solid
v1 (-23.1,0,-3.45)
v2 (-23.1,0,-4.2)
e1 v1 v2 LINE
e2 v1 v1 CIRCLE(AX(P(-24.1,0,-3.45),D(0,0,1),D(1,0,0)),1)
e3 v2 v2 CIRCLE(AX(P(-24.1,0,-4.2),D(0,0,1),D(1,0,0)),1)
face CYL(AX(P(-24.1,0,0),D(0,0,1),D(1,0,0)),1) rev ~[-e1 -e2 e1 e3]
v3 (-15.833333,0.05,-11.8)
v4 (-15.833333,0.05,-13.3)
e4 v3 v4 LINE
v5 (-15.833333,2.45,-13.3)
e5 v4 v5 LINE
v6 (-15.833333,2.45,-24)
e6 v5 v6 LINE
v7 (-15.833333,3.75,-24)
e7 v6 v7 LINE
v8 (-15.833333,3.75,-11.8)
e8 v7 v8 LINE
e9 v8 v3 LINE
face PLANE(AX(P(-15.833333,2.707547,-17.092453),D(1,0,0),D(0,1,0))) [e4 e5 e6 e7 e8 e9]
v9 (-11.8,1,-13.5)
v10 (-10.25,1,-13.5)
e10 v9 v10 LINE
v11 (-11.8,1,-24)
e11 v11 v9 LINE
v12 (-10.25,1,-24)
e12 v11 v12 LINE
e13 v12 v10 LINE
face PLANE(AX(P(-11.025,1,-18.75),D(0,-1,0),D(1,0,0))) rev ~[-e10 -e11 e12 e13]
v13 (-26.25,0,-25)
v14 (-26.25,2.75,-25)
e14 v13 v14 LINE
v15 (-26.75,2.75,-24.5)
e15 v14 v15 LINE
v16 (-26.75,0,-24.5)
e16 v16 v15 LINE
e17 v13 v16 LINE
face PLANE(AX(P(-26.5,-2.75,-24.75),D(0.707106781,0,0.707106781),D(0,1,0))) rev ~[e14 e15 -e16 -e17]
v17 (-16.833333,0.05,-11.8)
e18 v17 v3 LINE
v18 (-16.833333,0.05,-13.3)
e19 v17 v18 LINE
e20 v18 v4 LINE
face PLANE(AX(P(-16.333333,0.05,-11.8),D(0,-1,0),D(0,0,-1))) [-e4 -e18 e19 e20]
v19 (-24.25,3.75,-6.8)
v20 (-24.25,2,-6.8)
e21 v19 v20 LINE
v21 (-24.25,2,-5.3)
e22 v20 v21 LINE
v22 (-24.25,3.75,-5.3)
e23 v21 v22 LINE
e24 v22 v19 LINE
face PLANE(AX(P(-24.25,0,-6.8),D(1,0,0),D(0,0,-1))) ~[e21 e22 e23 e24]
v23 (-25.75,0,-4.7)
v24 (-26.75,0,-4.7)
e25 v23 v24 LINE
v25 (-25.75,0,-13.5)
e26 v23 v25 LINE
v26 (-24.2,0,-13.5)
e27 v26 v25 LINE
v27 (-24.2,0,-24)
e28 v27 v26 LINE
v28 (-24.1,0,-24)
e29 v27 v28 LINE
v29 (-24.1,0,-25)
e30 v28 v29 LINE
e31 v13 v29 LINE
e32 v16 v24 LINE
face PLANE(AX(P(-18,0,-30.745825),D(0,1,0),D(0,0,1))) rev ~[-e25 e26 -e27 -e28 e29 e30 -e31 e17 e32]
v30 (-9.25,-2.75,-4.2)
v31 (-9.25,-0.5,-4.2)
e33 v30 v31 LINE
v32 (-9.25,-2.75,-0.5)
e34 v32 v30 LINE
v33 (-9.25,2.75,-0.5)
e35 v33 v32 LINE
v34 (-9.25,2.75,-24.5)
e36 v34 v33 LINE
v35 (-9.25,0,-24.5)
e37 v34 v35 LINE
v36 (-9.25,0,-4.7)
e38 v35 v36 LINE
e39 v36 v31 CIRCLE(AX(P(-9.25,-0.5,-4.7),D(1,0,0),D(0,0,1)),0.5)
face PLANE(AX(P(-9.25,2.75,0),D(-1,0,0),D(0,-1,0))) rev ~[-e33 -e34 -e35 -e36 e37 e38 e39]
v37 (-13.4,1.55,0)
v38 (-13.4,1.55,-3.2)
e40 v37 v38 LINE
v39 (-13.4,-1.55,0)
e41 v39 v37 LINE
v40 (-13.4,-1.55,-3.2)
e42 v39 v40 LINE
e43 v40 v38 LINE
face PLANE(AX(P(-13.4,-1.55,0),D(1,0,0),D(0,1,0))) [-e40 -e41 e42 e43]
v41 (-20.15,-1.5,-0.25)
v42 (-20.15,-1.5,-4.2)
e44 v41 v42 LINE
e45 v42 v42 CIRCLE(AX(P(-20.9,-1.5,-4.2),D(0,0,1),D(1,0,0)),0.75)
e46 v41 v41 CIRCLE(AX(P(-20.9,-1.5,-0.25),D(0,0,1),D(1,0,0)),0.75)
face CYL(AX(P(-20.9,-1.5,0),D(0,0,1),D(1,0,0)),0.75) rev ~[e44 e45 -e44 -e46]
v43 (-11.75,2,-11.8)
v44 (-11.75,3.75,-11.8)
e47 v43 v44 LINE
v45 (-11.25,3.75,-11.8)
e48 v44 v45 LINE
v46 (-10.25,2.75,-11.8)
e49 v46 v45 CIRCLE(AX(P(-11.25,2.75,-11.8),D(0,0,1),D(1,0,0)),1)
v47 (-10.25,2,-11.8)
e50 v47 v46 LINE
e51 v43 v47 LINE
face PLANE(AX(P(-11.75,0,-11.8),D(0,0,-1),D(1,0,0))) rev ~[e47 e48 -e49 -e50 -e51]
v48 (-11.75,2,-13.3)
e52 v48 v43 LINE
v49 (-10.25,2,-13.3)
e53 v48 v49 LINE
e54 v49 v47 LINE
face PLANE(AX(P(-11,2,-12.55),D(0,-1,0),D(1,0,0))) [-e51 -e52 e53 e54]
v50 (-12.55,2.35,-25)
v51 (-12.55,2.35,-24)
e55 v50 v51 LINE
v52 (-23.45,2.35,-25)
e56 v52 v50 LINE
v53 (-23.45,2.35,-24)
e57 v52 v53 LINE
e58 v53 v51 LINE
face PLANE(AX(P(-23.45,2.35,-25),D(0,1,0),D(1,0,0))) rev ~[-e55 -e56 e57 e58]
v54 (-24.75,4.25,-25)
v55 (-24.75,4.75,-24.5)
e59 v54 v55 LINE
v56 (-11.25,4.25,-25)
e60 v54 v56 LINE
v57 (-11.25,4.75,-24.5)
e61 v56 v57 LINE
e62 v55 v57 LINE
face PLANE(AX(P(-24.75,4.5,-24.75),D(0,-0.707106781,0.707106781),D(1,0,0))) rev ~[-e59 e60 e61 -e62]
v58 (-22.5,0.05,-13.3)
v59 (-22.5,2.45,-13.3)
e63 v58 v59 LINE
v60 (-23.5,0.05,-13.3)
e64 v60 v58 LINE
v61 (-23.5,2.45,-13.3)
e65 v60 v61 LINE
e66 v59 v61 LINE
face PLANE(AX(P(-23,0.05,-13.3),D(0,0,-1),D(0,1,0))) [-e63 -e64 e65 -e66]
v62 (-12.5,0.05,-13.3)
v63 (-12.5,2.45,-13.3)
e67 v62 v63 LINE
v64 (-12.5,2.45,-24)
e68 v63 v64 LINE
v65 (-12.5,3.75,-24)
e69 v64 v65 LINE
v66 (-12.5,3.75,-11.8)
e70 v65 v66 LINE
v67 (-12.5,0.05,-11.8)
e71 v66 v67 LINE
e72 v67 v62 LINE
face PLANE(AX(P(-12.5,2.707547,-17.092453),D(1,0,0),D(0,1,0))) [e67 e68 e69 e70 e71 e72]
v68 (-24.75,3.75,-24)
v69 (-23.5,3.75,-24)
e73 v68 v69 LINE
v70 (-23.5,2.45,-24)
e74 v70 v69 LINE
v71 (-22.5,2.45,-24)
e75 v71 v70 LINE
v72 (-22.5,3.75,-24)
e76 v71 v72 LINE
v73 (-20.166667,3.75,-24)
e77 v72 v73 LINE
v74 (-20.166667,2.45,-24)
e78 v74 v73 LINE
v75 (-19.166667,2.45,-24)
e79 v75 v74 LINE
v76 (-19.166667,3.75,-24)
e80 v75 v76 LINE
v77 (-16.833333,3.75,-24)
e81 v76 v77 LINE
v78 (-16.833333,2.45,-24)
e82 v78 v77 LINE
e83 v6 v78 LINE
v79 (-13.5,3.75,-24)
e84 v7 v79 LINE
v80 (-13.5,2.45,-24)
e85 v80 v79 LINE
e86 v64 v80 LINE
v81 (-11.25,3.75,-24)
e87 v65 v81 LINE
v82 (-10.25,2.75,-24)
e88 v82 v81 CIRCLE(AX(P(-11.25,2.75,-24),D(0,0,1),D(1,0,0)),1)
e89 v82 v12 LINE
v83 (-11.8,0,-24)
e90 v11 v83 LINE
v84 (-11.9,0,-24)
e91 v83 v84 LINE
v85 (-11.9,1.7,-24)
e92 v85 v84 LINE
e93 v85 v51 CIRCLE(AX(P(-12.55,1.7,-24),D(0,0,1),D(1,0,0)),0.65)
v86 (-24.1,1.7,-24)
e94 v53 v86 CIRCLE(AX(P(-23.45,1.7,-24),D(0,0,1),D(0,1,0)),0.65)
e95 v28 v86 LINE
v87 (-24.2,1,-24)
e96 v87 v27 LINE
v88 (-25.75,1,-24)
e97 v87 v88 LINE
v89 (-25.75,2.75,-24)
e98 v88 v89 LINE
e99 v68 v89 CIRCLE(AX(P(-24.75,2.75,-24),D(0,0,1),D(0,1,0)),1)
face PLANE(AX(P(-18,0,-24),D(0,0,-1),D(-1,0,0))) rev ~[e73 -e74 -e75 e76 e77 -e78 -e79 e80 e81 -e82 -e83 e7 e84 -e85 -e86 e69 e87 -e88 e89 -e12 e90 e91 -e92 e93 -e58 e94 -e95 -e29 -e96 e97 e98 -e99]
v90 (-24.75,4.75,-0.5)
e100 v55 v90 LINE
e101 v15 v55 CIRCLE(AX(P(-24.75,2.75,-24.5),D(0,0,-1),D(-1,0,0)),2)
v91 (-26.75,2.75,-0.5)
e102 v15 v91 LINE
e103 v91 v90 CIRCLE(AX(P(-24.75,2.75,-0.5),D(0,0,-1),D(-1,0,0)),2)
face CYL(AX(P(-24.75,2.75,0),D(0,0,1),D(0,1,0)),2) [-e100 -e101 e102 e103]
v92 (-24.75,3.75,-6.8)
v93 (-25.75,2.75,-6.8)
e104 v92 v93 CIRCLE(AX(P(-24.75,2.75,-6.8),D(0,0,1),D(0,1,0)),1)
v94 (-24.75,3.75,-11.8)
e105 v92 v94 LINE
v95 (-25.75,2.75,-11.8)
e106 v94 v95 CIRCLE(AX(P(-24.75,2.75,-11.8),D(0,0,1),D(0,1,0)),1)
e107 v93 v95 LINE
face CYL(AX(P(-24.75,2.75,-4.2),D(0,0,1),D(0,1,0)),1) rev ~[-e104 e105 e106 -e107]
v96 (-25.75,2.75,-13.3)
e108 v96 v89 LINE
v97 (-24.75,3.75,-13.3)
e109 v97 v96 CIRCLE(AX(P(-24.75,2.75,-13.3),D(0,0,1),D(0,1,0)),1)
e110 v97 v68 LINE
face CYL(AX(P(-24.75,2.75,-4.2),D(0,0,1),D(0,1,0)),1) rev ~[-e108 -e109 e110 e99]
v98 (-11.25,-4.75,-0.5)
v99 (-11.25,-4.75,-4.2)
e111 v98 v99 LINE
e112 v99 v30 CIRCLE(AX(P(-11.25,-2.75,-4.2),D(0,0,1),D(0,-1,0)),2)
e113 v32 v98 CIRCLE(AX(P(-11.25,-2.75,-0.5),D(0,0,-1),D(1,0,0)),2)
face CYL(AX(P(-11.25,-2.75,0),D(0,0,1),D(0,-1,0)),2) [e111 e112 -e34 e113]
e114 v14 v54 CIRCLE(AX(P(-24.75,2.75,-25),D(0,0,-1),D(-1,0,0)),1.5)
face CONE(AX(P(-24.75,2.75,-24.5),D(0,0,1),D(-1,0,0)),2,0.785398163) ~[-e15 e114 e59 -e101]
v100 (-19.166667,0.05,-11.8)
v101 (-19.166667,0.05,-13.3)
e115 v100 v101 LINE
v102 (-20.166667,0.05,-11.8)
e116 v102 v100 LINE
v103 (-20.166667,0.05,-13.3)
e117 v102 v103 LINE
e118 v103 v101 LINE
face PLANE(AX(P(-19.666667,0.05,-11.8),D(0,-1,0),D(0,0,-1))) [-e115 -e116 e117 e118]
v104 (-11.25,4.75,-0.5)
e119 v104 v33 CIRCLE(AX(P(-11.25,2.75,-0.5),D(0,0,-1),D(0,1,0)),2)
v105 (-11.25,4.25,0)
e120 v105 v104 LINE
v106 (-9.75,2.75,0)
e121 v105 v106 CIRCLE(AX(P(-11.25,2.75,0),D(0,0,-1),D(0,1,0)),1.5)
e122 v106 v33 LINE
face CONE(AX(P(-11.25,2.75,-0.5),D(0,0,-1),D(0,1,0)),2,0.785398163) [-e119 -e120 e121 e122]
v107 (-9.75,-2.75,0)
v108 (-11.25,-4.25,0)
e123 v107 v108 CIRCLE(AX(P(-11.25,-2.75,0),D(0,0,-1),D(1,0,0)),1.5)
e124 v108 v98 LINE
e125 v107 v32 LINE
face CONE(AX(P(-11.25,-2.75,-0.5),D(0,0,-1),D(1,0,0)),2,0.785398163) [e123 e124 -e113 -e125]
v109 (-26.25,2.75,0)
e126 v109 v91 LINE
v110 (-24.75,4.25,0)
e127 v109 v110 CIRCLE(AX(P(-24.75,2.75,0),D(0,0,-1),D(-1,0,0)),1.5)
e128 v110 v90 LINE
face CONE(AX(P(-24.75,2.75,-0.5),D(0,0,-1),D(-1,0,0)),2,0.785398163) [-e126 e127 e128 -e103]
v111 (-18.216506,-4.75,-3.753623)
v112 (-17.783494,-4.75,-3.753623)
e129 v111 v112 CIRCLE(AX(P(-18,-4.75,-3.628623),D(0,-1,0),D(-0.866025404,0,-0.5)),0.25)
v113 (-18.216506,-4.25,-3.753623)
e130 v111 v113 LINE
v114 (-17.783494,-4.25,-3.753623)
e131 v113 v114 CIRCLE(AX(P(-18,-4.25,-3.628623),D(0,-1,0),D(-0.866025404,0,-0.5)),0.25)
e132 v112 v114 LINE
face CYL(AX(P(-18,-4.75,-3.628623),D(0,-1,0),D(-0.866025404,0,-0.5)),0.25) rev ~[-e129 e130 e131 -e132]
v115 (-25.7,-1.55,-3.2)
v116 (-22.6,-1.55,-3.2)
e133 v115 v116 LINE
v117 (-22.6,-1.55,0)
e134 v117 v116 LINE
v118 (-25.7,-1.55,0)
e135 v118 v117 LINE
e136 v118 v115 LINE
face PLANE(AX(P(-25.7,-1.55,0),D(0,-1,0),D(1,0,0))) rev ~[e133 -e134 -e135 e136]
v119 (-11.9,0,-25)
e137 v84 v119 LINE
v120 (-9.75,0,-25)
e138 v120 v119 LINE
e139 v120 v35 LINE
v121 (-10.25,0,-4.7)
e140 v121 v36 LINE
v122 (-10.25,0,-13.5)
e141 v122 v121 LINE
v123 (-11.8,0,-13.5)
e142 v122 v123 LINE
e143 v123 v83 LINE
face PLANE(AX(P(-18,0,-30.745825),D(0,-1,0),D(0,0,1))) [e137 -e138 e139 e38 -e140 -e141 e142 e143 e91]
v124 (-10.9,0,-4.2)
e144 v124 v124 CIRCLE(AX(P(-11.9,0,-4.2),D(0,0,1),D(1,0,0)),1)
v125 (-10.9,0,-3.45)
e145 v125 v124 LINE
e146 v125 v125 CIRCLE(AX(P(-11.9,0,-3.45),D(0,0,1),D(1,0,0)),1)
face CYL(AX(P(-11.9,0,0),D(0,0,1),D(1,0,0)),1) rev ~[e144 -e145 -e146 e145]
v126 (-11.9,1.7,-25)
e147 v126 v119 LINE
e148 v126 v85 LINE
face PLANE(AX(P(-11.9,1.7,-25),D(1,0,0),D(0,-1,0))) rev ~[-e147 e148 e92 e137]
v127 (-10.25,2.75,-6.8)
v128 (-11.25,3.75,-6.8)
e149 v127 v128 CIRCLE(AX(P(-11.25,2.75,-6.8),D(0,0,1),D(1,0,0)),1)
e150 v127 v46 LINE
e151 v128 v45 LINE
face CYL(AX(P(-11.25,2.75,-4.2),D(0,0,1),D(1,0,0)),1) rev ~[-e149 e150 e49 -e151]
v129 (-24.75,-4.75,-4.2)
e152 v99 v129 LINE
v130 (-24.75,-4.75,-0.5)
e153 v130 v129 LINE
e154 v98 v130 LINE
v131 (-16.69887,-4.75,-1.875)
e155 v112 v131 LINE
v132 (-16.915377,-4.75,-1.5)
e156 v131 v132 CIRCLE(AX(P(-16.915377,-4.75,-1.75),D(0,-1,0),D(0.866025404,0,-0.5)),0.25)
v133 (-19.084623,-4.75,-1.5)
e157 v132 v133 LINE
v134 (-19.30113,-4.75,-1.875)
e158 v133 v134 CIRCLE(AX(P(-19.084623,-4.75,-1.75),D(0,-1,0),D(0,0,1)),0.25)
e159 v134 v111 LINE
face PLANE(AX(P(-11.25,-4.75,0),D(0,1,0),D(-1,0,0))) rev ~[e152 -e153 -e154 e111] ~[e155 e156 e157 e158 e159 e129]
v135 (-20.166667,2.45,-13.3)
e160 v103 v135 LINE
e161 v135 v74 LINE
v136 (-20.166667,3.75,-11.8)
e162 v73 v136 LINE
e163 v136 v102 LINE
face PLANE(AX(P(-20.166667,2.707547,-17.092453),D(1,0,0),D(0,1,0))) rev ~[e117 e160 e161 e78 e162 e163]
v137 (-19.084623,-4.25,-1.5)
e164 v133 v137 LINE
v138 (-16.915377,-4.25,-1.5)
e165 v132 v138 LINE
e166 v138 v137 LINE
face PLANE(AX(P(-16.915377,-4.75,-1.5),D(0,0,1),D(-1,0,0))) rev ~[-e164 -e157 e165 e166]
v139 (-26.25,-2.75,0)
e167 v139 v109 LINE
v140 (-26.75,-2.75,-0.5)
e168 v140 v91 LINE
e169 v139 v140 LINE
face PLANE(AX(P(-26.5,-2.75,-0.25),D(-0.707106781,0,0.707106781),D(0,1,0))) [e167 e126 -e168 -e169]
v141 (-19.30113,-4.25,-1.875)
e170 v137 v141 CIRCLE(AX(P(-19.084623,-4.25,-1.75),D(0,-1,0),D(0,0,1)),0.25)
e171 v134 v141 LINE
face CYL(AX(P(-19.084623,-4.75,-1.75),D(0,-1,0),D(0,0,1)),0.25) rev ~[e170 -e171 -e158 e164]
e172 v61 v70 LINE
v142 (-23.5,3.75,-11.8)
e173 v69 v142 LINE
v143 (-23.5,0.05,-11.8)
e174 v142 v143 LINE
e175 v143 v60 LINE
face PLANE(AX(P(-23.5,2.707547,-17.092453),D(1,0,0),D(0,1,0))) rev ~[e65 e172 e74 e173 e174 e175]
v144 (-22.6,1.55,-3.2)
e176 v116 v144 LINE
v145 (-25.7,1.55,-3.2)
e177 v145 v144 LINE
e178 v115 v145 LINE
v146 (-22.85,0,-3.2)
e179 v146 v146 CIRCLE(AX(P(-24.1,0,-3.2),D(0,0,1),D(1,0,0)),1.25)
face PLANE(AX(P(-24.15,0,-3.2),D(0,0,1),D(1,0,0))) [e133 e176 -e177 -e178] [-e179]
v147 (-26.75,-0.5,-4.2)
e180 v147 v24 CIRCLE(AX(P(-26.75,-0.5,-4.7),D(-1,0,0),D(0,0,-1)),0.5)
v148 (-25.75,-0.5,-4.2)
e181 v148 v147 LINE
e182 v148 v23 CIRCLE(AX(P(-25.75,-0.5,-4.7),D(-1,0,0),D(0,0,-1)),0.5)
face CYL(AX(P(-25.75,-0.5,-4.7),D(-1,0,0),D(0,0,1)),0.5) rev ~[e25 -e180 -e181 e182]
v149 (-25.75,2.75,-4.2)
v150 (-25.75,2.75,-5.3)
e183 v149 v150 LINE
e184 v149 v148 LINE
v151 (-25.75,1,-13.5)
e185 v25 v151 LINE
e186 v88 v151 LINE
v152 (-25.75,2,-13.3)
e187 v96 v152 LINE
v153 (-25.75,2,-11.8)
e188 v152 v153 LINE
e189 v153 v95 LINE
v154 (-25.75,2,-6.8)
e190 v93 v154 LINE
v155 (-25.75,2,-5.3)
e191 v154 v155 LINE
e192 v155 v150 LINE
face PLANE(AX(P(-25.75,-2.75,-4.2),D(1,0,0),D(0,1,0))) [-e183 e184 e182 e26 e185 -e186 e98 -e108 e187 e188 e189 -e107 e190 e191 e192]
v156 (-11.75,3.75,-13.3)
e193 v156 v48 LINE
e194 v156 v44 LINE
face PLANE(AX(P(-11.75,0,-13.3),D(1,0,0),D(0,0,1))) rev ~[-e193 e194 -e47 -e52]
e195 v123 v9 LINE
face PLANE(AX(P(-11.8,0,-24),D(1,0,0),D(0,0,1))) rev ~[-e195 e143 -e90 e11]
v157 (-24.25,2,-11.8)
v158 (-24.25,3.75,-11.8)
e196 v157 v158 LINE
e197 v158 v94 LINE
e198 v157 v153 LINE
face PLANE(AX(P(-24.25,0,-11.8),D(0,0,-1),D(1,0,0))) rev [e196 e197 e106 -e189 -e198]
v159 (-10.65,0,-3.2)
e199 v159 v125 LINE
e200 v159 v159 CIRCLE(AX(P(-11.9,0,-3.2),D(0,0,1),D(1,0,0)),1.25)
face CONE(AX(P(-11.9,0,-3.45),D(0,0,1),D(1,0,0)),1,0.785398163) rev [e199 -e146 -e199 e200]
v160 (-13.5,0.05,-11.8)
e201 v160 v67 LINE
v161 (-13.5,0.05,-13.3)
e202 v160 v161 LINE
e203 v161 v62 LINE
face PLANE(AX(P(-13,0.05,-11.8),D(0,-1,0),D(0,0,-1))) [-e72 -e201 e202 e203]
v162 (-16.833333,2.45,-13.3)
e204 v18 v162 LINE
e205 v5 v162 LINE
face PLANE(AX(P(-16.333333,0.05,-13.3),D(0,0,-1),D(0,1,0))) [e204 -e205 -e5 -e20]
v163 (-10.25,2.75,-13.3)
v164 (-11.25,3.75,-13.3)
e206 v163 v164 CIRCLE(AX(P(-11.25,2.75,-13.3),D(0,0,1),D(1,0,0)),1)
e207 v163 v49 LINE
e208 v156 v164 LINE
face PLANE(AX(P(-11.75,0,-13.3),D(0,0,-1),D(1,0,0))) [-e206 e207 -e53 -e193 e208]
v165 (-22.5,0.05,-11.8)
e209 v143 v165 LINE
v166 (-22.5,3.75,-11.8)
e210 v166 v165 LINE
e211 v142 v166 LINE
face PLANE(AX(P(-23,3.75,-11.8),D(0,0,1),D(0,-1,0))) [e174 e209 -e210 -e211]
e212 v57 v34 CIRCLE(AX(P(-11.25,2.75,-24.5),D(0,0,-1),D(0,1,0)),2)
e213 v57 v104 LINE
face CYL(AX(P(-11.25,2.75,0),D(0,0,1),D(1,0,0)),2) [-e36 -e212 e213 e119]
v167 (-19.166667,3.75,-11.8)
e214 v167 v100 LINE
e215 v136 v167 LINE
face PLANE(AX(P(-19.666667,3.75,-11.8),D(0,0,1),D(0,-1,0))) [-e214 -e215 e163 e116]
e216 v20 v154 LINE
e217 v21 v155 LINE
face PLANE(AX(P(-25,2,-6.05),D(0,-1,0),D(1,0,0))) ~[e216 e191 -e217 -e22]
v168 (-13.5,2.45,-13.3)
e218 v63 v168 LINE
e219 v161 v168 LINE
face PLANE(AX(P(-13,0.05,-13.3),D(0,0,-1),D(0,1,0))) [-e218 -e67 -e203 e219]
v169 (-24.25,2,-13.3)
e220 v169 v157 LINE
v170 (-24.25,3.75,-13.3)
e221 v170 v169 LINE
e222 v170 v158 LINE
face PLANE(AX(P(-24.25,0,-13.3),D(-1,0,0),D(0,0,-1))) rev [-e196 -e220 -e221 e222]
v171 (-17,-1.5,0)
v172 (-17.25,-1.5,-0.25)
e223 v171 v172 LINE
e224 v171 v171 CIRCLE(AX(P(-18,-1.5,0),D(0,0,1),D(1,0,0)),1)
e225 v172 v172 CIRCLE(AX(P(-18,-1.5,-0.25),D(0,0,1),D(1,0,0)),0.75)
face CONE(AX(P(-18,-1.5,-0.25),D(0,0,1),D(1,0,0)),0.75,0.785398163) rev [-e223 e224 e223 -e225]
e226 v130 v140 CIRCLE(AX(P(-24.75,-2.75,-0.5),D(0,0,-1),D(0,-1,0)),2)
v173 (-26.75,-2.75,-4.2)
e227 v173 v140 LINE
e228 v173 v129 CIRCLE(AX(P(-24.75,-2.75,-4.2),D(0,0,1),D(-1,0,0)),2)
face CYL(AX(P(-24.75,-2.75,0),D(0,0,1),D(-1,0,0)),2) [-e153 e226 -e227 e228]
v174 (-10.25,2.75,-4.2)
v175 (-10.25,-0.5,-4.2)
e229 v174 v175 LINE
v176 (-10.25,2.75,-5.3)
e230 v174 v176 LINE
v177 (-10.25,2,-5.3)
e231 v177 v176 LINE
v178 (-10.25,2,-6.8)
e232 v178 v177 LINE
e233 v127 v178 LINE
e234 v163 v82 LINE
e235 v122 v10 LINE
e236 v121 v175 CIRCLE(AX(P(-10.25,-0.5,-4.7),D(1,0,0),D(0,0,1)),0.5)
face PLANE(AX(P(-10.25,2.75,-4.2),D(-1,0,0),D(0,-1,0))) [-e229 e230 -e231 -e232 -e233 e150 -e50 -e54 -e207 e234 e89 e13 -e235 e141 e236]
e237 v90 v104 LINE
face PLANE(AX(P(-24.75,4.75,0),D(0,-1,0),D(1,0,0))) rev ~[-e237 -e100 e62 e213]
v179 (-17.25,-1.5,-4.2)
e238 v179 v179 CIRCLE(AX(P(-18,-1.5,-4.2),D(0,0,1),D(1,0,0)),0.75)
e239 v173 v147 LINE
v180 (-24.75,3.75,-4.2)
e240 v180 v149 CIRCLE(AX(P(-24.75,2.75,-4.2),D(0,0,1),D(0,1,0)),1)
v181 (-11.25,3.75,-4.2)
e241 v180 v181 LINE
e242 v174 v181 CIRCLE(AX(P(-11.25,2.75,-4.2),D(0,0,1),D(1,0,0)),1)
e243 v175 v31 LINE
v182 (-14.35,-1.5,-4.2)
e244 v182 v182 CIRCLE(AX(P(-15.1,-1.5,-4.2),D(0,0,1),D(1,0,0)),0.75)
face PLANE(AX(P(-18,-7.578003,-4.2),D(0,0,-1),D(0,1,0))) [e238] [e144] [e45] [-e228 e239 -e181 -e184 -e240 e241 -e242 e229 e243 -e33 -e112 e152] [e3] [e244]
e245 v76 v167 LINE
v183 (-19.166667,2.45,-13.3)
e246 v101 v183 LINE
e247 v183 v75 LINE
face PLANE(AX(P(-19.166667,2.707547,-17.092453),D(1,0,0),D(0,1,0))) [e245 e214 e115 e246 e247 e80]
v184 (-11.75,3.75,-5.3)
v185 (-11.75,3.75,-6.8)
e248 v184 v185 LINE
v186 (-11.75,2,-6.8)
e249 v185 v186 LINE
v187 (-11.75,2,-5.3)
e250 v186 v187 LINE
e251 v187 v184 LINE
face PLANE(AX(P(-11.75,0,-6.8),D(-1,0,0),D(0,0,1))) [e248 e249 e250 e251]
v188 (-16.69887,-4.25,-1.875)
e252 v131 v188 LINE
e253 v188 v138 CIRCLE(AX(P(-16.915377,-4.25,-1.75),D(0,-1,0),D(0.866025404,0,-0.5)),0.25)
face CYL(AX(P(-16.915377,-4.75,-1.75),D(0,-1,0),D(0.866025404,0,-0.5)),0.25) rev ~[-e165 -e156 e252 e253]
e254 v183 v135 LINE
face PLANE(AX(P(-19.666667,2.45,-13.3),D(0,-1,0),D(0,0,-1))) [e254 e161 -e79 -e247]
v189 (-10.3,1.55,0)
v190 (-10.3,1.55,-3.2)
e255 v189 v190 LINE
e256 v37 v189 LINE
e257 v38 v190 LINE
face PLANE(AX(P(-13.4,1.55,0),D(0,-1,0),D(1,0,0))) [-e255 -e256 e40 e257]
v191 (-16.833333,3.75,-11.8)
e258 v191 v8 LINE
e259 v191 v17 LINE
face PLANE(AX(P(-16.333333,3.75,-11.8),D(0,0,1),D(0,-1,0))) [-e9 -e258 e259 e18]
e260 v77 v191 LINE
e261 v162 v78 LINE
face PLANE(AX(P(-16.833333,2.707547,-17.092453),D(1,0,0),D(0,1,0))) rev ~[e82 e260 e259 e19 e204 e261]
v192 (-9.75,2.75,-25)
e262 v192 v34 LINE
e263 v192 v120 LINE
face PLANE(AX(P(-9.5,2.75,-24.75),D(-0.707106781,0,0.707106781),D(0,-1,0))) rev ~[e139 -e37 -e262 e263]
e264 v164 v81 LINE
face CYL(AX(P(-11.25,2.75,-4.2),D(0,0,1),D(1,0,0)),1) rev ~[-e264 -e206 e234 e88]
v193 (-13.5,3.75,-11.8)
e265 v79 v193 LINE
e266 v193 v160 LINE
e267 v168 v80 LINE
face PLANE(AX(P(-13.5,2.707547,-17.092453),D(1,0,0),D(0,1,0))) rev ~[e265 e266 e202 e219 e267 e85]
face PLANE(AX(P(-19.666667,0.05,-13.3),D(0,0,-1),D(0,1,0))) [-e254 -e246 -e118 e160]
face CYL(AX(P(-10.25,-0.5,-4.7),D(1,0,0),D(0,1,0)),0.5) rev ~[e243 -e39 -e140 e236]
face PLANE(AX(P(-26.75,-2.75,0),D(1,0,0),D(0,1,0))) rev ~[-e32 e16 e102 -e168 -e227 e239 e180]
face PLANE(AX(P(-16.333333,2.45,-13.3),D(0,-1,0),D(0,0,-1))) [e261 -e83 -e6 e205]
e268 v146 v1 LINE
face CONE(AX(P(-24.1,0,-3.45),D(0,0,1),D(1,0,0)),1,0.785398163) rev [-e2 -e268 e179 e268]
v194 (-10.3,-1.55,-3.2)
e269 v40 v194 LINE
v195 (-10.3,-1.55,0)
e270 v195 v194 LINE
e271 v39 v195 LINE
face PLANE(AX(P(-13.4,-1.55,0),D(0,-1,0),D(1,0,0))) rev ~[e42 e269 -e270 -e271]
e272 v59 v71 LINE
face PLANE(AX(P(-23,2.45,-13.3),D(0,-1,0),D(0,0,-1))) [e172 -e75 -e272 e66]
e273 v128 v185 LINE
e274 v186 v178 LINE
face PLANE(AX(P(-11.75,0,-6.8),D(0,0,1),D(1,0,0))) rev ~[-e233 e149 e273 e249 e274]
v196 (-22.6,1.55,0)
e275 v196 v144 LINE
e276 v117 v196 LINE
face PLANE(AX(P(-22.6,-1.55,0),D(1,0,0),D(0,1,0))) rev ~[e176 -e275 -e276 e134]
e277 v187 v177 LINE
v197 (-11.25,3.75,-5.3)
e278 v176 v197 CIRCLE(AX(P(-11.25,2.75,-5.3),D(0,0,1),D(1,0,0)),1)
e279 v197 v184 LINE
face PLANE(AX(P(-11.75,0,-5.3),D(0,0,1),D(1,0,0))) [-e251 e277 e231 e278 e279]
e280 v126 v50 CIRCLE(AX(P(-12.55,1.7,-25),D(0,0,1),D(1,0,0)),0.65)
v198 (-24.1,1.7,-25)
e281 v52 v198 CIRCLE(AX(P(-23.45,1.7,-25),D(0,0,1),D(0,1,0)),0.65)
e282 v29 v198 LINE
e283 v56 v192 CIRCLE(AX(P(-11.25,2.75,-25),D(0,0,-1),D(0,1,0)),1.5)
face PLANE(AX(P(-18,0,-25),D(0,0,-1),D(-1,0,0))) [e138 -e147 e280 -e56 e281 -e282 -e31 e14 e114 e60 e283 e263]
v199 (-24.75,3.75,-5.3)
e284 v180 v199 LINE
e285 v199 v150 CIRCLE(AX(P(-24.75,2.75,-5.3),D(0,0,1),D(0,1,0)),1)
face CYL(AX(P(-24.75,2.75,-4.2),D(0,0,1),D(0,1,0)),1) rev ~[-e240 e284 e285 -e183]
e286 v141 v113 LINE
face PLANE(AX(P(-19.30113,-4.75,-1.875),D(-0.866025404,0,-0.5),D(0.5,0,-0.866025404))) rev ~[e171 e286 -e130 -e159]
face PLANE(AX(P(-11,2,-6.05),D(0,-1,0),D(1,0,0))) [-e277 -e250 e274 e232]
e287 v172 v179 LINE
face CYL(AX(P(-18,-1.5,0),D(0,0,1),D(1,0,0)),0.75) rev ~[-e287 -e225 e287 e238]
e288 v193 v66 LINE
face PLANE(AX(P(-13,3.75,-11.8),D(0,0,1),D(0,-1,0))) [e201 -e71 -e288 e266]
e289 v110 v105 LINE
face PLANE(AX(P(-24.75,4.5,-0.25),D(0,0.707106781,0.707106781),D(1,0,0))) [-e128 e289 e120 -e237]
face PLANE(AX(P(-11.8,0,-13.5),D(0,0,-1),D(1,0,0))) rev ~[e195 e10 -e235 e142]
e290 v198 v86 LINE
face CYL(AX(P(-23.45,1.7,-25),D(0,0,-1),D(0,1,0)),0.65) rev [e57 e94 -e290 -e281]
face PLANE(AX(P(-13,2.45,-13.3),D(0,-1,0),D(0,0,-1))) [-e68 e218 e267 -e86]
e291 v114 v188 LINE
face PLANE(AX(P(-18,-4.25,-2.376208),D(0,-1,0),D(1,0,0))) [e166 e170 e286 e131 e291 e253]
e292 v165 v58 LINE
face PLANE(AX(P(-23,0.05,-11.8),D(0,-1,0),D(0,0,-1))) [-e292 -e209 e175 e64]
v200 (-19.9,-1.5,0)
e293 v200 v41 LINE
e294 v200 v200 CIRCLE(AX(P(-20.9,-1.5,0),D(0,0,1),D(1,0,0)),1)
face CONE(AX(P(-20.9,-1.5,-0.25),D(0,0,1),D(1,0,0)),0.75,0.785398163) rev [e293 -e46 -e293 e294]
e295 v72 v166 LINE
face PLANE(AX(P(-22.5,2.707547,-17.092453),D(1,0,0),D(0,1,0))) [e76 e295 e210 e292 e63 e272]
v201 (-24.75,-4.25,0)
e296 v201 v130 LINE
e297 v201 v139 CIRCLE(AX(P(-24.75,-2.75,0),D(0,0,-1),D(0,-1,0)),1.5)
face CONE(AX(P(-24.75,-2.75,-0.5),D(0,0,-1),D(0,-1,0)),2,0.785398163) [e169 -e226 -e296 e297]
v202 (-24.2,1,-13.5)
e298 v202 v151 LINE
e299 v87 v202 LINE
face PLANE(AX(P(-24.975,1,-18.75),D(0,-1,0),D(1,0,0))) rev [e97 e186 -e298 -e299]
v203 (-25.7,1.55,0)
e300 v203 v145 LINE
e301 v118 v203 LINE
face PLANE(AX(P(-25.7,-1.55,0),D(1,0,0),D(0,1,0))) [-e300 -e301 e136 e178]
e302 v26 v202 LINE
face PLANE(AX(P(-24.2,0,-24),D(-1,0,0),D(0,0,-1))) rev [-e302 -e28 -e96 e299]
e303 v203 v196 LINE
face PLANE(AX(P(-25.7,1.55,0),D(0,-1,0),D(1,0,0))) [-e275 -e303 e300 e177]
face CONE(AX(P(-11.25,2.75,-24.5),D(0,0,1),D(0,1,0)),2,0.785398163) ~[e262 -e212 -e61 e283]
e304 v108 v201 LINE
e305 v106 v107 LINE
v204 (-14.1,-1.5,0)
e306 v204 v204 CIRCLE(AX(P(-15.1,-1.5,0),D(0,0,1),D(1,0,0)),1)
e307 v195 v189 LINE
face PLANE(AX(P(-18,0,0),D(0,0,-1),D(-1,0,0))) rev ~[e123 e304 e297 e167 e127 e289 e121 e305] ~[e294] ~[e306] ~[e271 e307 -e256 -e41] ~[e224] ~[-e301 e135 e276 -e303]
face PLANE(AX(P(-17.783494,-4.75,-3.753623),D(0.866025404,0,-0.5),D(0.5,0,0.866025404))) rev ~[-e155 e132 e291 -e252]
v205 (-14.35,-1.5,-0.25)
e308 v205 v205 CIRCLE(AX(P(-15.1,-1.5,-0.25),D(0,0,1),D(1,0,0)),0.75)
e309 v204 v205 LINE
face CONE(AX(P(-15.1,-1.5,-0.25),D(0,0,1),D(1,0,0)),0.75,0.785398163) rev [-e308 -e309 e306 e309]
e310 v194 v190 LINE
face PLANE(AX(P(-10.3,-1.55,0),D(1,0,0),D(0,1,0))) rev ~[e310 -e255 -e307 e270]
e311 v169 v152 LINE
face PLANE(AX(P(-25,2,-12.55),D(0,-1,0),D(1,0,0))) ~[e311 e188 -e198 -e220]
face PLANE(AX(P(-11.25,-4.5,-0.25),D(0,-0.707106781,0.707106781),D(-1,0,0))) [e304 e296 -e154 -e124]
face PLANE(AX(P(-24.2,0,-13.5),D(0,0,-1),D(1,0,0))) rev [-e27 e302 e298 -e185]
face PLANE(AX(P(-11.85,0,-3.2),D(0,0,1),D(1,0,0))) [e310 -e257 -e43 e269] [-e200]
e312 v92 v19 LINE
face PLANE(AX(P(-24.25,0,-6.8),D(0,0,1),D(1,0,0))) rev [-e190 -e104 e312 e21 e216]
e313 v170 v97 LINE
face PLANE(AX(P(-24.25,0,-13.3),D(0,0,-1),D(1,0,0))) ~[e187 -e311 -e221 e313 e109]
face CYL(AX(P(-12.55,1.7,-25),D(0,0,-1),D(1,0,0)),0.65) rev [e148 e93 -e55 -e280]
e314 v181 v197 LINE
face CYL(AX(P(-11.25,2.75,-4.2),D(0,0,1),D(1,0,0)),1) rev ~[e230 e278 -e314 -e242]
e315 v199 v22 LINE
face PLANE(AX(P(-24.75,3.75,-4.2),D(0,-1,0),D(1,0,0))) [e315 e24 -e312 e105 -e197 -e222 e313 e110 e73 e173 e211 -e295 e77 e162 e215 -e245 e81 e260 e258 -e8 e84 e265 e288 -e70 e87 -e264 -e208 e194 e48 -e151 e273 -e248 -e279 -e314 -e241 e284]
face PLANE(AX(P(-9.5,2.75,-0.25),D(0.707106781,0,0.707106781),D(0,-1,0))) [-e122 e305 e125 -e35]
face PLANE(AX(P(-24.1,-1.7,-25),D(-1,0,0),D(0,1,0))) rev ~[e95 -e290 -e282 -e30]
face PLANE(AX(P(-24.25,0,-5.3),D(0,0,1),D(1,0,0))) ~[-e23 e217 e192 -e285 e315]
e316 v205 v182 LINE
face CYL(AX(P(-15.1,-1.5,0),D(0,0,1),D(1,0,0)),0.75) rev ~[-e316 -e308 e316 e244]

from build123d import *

# Parameters (mm, degrees)
PAD005_DEPTH           = 25
SKETCH014_W            = 3.1
SKETCH014_H            = 3.1
POCKET008_DEPTH        = 3.2
POCKET010_DEPTH        = 20.801
POCKET011_DEPTH        = 0.5
CHAMFER002_SIZE        = 0.5
SKETCH019_R            = 0.75
SKETCH019_R_2          = 1
POCKET012_DEPTH        = 25.001
CHAMFER003_SIZE        = 0.25
PAD009_DEPTH           = 1
CHAMFER_SIZE           = 0.5
PAD021_DEPTH           = 0.5
LINEARPATTERN001_COUNT = 4
LINEARPATTERN001_PITCH = 3.3333333333
SKETCH047_W            = 1.55
SKETCH047_H            = 10.5
PAD022_DEPTH           = 1
SKETCH048_W            = 1.5
SKETCH048_H            = 1.5
PAD023_DEPTH           = 4
SKETCH054_W            = 7.578003
SKETCH054_H            = 26.545825
POCKET038_DEPTH        = 8.751
POCKET038_DEPTH_BACK   = 8.751
FILLET005_R            = 0.5
SKETCH055_W            = 1.5
SKETCH055_H            = 1.5
POCKET039_DEPTH        = 2


with BuildPart() as part:
    # Sketch013 → Pad005 (new body)
    with BuildSketch(Plane.XY):
        with BuildLine():
            Line((-6.75, 4.75), (6.75, 4.75))
            ThreePointArc((8.75, 2.75), (8.1642135624, 4.1642135624), (6.75, 4.75))
            Line((8.75, 2.75), (8.75, -2.75))
            ThreePointArc((6.75, -4.75), (8.1642135624, -4.1642135624), (8.75, -2.75))
            Line((6.75, -4.75), (-6.75, -4.75))
            ThreePointArc((-8.75, -2.75), (-8.1642135624, -4.1642135624), (-6.75, -4.75))
            Line((-8.75, -2.75), (-8.75, 2.75))
            ThreePointArc((-6.75, 4.75), (-8.1642135624, 4.1642135624), (-8.75, 2.75))
        make_face()
    extrude(amount=-PAD005_DEPTH)

    # Sketch014 (on Face9 of Pad005) → Pocket008 (cut)
    with BuildSketch(Plane.XY):
        with Locations((6.15, 0)):
            Rectangle(SKETCH014_W, SKETCH014_H)
        with Locations((-6.15, 0)):
            Rectangle(SKETCH014_W, SKETCH014_H)
    extrude(amount=-POCKET008_DEPTH, mode=Mode.SUBTRACT)

    # Sketch017 → Pocket010 (cut, through all)
    with BuildSketch(Plane.XY.offset(-4.2)):
        with BuildLine():
            Line((-6.75, 3.75), (6.75, 3.75))
            ThreePointArc((7.75, 2.75), (7.4571067812, 3.4571067812), (6.75, 3.75))
            Line((7.75, 2.75), (7.75, -2.75))
            ThreePointArc((6.75, -3.75), (7.4571067812, -3.4571067812), (7.75, -2.75))
            Line((6.75, -3.75), (-6.75, -3.75))
            ThreePointArc((-7.75, -2.75), (-7.4571067812, -3.4571067812), (-6.75, -3.75))
            Line((-7.75, -2.75), (-7.75, 2.75))
            ThreePointArc((-6.75, 3.75), (-7.4571067812, 3.4571067812), (-7.75, 2.75))
        make_face()
    extrude(amount=-POCKET010_DEPTH, mode=Mode.SUBTRACT)

    # Sketch018 → Pocket011 (cut)
    with BuildSketch(Plane.XZ.offset(4.75)):
        with BuildLine():
            Line((1.0846232888, -1.5), (-1.0846232888, -1.5))
            ThreePointArc((-1.0846232888, -1.5), (-1.3011296398, -1.625), (-1.3011296398, -1.875))
            Line((-1.3011296398, -1.875), (-0.2165063509, -3.7536226433))
            ThreePointArc((-0.2165063509, -3.7536226433), (0, -3.8786226433), (0.2165063509, -3.7536226433))
            Line((0.2165063509, -3.7536226433), (1.3011296398, -1.875))
            ThreePointArc((1.3011296398, -1.875), (1.3011296398, -1.625), (1.0846232888, -1.5))
        make_face()
    extrude(amount=-POCKET011_DEPTH, mode=Mode.SUBTRACT)

    # Chamfer002
    chamfer002_edges = [part.edges().sort_by_distance(p)[0] for p in [
        (8.75, 0, 0),
    ]]
    chamfer(chamfer002_edges, length=CHAMFER002_SIZE)

    # Sketch019 (on Face8 of Chamfer002) → Pocket012 (cut, through all)
    with BuildSketch(Plane.XY):
        with Locations((0, -1.5)):
            Circle(SKETCH019_R)
        with Locations((2.9, -1.5)):
            Circle(SKETCH019_R)
        with Locations((-2.9, -1.5)):
            Circle(SKETCH019_R)
        with Locations((-6.1, 0)):
            Circle(SKETCH019_R_2)
        with Locations((6.1, 0)):
            Circle(SKETCH019_R_2)
    extrude(amount=-POCKET012_DEPTH, mode=Mode.SUBTRACT)

    # Chamfer003
    chamfer003_edges = [part.edges().sort_by_distance(p)[0] for p in [
        (-7.1, 0, -3.2),
        (5.1, 0, -3.2),
        (2.15, -1.5, 0),
        (-0.75, -1.5, 0),
        (-3.65, -1.5, 0),
    ]]
    chamfer(chamfer003_edges, length=CHAMFER003_SIZE)

    # Sketch027 → Pad009 (join)
    with BuildSketch(Plane.XY.offset(-25)):
        with BuildLine():
            Line((-6.75, 4.75), (6.75, 4.75))
            ThreePointArc((8.75, 2.75), (8.1642135624, 4.1642135624), (6.75, 4.75))
            Line((8.75, 2.75), (8.75, -2.75))
            ThreePointArc((6.75, -4.75), (8.1642135624, -4.1642135624), (8.75, -2.75))
            Line((6.75, -4.75), (-6.75, -4.75))
            ThreePointArc((-8.75, -2.75), (-8.1642135624, -4.1642135624), (-6.75, -4.75))
            Line((-8.75, -2.75), (-8.75, 2.75))
            ThreePointArc((-6.75, 4.75), (-8.1642135624, 4.1642135624), (-8.75, 2.75))
        make_face()
        with BuildLine():
            ThreePointArc((-5.45, 2.35), (-5.9096194078, 2.1596194078), (-6.1, 1.7))
            Line((-6.1, -1.7), (-6.1, 1.7))
            ThreePointArc((-6.1, -1.7), (-5.9096194078, -2.1596194078), (-5.45, -2.35))
            Line((5.45, -2.35), (-5.45, -2.35))
            ThreePointArc((5.45, -2.35), (5.9096194078, -2.1596194078), (6.1, -1.7))
            Line((6.1, 1.7), (6.1, -1.7))
            ThreePointArc((6.1, 1.7), (5.9096194078, 2.1596194078), (5.45, 2.35))
            Line((-5.45, 2.35), (5.45, 2.35))
        make_face(mode=Mode.SUBTRACT)
    extrude(amount=PAD009_DEPTH)

    # Chamfer
    chamfer_edges = [part.edges().sort_by_distance(p)[0] for p in [
        (0, -4.75, -25),
    ]]
    chamfer(chamfer_edges, length=CHAMFER_SIZE)

    # Sketch046 → Pad021 (join, symmetric)
    with BuildSketch(Plane.YZ.offset(5)):
        Polygon((3.75, -24), (3.75, -11.8), (0.05, -11.8), (0.05, -13.3), (2.45, -13.3), (2.45, -24), align=None)
    pad021 = extrude(amount=PAD021_DEPTH, both=True)

    # LinearPattern001: Pad021 ×4
    with Locations(*[(-i * LINEARPATTERN001_PITCH, 0, 0) for i in range(1, LINEARPATTERN001_COUNT)]):
        add(pad021)

    # Sketch047 → Pad022 (join, symmetric)
    with BuildSketch(Plane.XZ):
        with Locations((6.975, -18.75)):
            Rectangle(SKETCH047_W, SKETCH047_H)
    pad022 = extrude(amount=PAD022_DEPTH, both=True)

    # Mirrored008: Pad022 across Sketch047 V_Axis
    add(pad022.mirror(Plane(origin=(0, 0, 0), x_dir=(0, -1, 0), z_dir=(1, 0, 0))))

    # Sketch048 → Pad023 (join, symmetric)
    with BuildSketch(Plane.XZ):
        with Locations((7, -6.05)):
            Rectangle(SKETCH048_W, SKETCH048_H)
        with Locations((7, -12.55)):
            Rectangle(SKETCH048_W, SKETCH048_H)
    pad023 = extrude(amount=PAD023_DEPTH, both=True)

    # Mirrored009: Pad023 across Sketch048 V_Axis
    add(pad023.mirror(Plane(origin=(0, 0, 0), x_dir=(0, -1, 0), z_dir=(1, 0, 0))))

    # Sketch054 → Pocket038 (cut, two sides)
    with BuildSketch(Plane.YZ) as pocket038_sk:
        with Locations((-3.7890015, -17.4729125)):
            Rectangle(SKETCH054_W, SKETCH054_H)
    extrude(amount=-POCKET038_DEPTH, mode=Mode.SUBTRACT)
    extrude(pocket038_sk.sketch, amount=POCKET038_DEPTH_BACK, mode=Mode.SUBTRACT)

    # Fillet005
    fillet005_edges = [part.edges().sort_by_distance(p)[0] for p in [
        (-8.25, 0, -4.2),
        (8.25, 0, -4.2),
    ]]
    fillet(fillet005_edges, radius=FILLET005_R)

    # Sketch055 → Pocket039 (cut)
    with BuildSketch(Plane.XZ):
        with Locations((7, -6.05)):
            Rectangle(SKETCH055_W, SKETCH055_H)
        with Locations((7, -12.55)):
            Rectangle(SKETCH055_W, SKETCH055_H)
    pocket039 = extrude(amount=-POCKET039_DEPTH, mode=Mode.SUBTRACT)

    # Mirrored010: Pocket039 across Sketch055 V_Axis
    add(pocket039.mirror(Plane(origin=(0, 0, 0), x_dir=(0, -1, 0), z_dir=(1, 0, 0))), mode=Mode.SUBTRACT)


with BuildPart() as part_1:
    # Body012 placement: moved
    add(part.part.moved(Location((-18, 0, 0))))


solid = part_1.part
